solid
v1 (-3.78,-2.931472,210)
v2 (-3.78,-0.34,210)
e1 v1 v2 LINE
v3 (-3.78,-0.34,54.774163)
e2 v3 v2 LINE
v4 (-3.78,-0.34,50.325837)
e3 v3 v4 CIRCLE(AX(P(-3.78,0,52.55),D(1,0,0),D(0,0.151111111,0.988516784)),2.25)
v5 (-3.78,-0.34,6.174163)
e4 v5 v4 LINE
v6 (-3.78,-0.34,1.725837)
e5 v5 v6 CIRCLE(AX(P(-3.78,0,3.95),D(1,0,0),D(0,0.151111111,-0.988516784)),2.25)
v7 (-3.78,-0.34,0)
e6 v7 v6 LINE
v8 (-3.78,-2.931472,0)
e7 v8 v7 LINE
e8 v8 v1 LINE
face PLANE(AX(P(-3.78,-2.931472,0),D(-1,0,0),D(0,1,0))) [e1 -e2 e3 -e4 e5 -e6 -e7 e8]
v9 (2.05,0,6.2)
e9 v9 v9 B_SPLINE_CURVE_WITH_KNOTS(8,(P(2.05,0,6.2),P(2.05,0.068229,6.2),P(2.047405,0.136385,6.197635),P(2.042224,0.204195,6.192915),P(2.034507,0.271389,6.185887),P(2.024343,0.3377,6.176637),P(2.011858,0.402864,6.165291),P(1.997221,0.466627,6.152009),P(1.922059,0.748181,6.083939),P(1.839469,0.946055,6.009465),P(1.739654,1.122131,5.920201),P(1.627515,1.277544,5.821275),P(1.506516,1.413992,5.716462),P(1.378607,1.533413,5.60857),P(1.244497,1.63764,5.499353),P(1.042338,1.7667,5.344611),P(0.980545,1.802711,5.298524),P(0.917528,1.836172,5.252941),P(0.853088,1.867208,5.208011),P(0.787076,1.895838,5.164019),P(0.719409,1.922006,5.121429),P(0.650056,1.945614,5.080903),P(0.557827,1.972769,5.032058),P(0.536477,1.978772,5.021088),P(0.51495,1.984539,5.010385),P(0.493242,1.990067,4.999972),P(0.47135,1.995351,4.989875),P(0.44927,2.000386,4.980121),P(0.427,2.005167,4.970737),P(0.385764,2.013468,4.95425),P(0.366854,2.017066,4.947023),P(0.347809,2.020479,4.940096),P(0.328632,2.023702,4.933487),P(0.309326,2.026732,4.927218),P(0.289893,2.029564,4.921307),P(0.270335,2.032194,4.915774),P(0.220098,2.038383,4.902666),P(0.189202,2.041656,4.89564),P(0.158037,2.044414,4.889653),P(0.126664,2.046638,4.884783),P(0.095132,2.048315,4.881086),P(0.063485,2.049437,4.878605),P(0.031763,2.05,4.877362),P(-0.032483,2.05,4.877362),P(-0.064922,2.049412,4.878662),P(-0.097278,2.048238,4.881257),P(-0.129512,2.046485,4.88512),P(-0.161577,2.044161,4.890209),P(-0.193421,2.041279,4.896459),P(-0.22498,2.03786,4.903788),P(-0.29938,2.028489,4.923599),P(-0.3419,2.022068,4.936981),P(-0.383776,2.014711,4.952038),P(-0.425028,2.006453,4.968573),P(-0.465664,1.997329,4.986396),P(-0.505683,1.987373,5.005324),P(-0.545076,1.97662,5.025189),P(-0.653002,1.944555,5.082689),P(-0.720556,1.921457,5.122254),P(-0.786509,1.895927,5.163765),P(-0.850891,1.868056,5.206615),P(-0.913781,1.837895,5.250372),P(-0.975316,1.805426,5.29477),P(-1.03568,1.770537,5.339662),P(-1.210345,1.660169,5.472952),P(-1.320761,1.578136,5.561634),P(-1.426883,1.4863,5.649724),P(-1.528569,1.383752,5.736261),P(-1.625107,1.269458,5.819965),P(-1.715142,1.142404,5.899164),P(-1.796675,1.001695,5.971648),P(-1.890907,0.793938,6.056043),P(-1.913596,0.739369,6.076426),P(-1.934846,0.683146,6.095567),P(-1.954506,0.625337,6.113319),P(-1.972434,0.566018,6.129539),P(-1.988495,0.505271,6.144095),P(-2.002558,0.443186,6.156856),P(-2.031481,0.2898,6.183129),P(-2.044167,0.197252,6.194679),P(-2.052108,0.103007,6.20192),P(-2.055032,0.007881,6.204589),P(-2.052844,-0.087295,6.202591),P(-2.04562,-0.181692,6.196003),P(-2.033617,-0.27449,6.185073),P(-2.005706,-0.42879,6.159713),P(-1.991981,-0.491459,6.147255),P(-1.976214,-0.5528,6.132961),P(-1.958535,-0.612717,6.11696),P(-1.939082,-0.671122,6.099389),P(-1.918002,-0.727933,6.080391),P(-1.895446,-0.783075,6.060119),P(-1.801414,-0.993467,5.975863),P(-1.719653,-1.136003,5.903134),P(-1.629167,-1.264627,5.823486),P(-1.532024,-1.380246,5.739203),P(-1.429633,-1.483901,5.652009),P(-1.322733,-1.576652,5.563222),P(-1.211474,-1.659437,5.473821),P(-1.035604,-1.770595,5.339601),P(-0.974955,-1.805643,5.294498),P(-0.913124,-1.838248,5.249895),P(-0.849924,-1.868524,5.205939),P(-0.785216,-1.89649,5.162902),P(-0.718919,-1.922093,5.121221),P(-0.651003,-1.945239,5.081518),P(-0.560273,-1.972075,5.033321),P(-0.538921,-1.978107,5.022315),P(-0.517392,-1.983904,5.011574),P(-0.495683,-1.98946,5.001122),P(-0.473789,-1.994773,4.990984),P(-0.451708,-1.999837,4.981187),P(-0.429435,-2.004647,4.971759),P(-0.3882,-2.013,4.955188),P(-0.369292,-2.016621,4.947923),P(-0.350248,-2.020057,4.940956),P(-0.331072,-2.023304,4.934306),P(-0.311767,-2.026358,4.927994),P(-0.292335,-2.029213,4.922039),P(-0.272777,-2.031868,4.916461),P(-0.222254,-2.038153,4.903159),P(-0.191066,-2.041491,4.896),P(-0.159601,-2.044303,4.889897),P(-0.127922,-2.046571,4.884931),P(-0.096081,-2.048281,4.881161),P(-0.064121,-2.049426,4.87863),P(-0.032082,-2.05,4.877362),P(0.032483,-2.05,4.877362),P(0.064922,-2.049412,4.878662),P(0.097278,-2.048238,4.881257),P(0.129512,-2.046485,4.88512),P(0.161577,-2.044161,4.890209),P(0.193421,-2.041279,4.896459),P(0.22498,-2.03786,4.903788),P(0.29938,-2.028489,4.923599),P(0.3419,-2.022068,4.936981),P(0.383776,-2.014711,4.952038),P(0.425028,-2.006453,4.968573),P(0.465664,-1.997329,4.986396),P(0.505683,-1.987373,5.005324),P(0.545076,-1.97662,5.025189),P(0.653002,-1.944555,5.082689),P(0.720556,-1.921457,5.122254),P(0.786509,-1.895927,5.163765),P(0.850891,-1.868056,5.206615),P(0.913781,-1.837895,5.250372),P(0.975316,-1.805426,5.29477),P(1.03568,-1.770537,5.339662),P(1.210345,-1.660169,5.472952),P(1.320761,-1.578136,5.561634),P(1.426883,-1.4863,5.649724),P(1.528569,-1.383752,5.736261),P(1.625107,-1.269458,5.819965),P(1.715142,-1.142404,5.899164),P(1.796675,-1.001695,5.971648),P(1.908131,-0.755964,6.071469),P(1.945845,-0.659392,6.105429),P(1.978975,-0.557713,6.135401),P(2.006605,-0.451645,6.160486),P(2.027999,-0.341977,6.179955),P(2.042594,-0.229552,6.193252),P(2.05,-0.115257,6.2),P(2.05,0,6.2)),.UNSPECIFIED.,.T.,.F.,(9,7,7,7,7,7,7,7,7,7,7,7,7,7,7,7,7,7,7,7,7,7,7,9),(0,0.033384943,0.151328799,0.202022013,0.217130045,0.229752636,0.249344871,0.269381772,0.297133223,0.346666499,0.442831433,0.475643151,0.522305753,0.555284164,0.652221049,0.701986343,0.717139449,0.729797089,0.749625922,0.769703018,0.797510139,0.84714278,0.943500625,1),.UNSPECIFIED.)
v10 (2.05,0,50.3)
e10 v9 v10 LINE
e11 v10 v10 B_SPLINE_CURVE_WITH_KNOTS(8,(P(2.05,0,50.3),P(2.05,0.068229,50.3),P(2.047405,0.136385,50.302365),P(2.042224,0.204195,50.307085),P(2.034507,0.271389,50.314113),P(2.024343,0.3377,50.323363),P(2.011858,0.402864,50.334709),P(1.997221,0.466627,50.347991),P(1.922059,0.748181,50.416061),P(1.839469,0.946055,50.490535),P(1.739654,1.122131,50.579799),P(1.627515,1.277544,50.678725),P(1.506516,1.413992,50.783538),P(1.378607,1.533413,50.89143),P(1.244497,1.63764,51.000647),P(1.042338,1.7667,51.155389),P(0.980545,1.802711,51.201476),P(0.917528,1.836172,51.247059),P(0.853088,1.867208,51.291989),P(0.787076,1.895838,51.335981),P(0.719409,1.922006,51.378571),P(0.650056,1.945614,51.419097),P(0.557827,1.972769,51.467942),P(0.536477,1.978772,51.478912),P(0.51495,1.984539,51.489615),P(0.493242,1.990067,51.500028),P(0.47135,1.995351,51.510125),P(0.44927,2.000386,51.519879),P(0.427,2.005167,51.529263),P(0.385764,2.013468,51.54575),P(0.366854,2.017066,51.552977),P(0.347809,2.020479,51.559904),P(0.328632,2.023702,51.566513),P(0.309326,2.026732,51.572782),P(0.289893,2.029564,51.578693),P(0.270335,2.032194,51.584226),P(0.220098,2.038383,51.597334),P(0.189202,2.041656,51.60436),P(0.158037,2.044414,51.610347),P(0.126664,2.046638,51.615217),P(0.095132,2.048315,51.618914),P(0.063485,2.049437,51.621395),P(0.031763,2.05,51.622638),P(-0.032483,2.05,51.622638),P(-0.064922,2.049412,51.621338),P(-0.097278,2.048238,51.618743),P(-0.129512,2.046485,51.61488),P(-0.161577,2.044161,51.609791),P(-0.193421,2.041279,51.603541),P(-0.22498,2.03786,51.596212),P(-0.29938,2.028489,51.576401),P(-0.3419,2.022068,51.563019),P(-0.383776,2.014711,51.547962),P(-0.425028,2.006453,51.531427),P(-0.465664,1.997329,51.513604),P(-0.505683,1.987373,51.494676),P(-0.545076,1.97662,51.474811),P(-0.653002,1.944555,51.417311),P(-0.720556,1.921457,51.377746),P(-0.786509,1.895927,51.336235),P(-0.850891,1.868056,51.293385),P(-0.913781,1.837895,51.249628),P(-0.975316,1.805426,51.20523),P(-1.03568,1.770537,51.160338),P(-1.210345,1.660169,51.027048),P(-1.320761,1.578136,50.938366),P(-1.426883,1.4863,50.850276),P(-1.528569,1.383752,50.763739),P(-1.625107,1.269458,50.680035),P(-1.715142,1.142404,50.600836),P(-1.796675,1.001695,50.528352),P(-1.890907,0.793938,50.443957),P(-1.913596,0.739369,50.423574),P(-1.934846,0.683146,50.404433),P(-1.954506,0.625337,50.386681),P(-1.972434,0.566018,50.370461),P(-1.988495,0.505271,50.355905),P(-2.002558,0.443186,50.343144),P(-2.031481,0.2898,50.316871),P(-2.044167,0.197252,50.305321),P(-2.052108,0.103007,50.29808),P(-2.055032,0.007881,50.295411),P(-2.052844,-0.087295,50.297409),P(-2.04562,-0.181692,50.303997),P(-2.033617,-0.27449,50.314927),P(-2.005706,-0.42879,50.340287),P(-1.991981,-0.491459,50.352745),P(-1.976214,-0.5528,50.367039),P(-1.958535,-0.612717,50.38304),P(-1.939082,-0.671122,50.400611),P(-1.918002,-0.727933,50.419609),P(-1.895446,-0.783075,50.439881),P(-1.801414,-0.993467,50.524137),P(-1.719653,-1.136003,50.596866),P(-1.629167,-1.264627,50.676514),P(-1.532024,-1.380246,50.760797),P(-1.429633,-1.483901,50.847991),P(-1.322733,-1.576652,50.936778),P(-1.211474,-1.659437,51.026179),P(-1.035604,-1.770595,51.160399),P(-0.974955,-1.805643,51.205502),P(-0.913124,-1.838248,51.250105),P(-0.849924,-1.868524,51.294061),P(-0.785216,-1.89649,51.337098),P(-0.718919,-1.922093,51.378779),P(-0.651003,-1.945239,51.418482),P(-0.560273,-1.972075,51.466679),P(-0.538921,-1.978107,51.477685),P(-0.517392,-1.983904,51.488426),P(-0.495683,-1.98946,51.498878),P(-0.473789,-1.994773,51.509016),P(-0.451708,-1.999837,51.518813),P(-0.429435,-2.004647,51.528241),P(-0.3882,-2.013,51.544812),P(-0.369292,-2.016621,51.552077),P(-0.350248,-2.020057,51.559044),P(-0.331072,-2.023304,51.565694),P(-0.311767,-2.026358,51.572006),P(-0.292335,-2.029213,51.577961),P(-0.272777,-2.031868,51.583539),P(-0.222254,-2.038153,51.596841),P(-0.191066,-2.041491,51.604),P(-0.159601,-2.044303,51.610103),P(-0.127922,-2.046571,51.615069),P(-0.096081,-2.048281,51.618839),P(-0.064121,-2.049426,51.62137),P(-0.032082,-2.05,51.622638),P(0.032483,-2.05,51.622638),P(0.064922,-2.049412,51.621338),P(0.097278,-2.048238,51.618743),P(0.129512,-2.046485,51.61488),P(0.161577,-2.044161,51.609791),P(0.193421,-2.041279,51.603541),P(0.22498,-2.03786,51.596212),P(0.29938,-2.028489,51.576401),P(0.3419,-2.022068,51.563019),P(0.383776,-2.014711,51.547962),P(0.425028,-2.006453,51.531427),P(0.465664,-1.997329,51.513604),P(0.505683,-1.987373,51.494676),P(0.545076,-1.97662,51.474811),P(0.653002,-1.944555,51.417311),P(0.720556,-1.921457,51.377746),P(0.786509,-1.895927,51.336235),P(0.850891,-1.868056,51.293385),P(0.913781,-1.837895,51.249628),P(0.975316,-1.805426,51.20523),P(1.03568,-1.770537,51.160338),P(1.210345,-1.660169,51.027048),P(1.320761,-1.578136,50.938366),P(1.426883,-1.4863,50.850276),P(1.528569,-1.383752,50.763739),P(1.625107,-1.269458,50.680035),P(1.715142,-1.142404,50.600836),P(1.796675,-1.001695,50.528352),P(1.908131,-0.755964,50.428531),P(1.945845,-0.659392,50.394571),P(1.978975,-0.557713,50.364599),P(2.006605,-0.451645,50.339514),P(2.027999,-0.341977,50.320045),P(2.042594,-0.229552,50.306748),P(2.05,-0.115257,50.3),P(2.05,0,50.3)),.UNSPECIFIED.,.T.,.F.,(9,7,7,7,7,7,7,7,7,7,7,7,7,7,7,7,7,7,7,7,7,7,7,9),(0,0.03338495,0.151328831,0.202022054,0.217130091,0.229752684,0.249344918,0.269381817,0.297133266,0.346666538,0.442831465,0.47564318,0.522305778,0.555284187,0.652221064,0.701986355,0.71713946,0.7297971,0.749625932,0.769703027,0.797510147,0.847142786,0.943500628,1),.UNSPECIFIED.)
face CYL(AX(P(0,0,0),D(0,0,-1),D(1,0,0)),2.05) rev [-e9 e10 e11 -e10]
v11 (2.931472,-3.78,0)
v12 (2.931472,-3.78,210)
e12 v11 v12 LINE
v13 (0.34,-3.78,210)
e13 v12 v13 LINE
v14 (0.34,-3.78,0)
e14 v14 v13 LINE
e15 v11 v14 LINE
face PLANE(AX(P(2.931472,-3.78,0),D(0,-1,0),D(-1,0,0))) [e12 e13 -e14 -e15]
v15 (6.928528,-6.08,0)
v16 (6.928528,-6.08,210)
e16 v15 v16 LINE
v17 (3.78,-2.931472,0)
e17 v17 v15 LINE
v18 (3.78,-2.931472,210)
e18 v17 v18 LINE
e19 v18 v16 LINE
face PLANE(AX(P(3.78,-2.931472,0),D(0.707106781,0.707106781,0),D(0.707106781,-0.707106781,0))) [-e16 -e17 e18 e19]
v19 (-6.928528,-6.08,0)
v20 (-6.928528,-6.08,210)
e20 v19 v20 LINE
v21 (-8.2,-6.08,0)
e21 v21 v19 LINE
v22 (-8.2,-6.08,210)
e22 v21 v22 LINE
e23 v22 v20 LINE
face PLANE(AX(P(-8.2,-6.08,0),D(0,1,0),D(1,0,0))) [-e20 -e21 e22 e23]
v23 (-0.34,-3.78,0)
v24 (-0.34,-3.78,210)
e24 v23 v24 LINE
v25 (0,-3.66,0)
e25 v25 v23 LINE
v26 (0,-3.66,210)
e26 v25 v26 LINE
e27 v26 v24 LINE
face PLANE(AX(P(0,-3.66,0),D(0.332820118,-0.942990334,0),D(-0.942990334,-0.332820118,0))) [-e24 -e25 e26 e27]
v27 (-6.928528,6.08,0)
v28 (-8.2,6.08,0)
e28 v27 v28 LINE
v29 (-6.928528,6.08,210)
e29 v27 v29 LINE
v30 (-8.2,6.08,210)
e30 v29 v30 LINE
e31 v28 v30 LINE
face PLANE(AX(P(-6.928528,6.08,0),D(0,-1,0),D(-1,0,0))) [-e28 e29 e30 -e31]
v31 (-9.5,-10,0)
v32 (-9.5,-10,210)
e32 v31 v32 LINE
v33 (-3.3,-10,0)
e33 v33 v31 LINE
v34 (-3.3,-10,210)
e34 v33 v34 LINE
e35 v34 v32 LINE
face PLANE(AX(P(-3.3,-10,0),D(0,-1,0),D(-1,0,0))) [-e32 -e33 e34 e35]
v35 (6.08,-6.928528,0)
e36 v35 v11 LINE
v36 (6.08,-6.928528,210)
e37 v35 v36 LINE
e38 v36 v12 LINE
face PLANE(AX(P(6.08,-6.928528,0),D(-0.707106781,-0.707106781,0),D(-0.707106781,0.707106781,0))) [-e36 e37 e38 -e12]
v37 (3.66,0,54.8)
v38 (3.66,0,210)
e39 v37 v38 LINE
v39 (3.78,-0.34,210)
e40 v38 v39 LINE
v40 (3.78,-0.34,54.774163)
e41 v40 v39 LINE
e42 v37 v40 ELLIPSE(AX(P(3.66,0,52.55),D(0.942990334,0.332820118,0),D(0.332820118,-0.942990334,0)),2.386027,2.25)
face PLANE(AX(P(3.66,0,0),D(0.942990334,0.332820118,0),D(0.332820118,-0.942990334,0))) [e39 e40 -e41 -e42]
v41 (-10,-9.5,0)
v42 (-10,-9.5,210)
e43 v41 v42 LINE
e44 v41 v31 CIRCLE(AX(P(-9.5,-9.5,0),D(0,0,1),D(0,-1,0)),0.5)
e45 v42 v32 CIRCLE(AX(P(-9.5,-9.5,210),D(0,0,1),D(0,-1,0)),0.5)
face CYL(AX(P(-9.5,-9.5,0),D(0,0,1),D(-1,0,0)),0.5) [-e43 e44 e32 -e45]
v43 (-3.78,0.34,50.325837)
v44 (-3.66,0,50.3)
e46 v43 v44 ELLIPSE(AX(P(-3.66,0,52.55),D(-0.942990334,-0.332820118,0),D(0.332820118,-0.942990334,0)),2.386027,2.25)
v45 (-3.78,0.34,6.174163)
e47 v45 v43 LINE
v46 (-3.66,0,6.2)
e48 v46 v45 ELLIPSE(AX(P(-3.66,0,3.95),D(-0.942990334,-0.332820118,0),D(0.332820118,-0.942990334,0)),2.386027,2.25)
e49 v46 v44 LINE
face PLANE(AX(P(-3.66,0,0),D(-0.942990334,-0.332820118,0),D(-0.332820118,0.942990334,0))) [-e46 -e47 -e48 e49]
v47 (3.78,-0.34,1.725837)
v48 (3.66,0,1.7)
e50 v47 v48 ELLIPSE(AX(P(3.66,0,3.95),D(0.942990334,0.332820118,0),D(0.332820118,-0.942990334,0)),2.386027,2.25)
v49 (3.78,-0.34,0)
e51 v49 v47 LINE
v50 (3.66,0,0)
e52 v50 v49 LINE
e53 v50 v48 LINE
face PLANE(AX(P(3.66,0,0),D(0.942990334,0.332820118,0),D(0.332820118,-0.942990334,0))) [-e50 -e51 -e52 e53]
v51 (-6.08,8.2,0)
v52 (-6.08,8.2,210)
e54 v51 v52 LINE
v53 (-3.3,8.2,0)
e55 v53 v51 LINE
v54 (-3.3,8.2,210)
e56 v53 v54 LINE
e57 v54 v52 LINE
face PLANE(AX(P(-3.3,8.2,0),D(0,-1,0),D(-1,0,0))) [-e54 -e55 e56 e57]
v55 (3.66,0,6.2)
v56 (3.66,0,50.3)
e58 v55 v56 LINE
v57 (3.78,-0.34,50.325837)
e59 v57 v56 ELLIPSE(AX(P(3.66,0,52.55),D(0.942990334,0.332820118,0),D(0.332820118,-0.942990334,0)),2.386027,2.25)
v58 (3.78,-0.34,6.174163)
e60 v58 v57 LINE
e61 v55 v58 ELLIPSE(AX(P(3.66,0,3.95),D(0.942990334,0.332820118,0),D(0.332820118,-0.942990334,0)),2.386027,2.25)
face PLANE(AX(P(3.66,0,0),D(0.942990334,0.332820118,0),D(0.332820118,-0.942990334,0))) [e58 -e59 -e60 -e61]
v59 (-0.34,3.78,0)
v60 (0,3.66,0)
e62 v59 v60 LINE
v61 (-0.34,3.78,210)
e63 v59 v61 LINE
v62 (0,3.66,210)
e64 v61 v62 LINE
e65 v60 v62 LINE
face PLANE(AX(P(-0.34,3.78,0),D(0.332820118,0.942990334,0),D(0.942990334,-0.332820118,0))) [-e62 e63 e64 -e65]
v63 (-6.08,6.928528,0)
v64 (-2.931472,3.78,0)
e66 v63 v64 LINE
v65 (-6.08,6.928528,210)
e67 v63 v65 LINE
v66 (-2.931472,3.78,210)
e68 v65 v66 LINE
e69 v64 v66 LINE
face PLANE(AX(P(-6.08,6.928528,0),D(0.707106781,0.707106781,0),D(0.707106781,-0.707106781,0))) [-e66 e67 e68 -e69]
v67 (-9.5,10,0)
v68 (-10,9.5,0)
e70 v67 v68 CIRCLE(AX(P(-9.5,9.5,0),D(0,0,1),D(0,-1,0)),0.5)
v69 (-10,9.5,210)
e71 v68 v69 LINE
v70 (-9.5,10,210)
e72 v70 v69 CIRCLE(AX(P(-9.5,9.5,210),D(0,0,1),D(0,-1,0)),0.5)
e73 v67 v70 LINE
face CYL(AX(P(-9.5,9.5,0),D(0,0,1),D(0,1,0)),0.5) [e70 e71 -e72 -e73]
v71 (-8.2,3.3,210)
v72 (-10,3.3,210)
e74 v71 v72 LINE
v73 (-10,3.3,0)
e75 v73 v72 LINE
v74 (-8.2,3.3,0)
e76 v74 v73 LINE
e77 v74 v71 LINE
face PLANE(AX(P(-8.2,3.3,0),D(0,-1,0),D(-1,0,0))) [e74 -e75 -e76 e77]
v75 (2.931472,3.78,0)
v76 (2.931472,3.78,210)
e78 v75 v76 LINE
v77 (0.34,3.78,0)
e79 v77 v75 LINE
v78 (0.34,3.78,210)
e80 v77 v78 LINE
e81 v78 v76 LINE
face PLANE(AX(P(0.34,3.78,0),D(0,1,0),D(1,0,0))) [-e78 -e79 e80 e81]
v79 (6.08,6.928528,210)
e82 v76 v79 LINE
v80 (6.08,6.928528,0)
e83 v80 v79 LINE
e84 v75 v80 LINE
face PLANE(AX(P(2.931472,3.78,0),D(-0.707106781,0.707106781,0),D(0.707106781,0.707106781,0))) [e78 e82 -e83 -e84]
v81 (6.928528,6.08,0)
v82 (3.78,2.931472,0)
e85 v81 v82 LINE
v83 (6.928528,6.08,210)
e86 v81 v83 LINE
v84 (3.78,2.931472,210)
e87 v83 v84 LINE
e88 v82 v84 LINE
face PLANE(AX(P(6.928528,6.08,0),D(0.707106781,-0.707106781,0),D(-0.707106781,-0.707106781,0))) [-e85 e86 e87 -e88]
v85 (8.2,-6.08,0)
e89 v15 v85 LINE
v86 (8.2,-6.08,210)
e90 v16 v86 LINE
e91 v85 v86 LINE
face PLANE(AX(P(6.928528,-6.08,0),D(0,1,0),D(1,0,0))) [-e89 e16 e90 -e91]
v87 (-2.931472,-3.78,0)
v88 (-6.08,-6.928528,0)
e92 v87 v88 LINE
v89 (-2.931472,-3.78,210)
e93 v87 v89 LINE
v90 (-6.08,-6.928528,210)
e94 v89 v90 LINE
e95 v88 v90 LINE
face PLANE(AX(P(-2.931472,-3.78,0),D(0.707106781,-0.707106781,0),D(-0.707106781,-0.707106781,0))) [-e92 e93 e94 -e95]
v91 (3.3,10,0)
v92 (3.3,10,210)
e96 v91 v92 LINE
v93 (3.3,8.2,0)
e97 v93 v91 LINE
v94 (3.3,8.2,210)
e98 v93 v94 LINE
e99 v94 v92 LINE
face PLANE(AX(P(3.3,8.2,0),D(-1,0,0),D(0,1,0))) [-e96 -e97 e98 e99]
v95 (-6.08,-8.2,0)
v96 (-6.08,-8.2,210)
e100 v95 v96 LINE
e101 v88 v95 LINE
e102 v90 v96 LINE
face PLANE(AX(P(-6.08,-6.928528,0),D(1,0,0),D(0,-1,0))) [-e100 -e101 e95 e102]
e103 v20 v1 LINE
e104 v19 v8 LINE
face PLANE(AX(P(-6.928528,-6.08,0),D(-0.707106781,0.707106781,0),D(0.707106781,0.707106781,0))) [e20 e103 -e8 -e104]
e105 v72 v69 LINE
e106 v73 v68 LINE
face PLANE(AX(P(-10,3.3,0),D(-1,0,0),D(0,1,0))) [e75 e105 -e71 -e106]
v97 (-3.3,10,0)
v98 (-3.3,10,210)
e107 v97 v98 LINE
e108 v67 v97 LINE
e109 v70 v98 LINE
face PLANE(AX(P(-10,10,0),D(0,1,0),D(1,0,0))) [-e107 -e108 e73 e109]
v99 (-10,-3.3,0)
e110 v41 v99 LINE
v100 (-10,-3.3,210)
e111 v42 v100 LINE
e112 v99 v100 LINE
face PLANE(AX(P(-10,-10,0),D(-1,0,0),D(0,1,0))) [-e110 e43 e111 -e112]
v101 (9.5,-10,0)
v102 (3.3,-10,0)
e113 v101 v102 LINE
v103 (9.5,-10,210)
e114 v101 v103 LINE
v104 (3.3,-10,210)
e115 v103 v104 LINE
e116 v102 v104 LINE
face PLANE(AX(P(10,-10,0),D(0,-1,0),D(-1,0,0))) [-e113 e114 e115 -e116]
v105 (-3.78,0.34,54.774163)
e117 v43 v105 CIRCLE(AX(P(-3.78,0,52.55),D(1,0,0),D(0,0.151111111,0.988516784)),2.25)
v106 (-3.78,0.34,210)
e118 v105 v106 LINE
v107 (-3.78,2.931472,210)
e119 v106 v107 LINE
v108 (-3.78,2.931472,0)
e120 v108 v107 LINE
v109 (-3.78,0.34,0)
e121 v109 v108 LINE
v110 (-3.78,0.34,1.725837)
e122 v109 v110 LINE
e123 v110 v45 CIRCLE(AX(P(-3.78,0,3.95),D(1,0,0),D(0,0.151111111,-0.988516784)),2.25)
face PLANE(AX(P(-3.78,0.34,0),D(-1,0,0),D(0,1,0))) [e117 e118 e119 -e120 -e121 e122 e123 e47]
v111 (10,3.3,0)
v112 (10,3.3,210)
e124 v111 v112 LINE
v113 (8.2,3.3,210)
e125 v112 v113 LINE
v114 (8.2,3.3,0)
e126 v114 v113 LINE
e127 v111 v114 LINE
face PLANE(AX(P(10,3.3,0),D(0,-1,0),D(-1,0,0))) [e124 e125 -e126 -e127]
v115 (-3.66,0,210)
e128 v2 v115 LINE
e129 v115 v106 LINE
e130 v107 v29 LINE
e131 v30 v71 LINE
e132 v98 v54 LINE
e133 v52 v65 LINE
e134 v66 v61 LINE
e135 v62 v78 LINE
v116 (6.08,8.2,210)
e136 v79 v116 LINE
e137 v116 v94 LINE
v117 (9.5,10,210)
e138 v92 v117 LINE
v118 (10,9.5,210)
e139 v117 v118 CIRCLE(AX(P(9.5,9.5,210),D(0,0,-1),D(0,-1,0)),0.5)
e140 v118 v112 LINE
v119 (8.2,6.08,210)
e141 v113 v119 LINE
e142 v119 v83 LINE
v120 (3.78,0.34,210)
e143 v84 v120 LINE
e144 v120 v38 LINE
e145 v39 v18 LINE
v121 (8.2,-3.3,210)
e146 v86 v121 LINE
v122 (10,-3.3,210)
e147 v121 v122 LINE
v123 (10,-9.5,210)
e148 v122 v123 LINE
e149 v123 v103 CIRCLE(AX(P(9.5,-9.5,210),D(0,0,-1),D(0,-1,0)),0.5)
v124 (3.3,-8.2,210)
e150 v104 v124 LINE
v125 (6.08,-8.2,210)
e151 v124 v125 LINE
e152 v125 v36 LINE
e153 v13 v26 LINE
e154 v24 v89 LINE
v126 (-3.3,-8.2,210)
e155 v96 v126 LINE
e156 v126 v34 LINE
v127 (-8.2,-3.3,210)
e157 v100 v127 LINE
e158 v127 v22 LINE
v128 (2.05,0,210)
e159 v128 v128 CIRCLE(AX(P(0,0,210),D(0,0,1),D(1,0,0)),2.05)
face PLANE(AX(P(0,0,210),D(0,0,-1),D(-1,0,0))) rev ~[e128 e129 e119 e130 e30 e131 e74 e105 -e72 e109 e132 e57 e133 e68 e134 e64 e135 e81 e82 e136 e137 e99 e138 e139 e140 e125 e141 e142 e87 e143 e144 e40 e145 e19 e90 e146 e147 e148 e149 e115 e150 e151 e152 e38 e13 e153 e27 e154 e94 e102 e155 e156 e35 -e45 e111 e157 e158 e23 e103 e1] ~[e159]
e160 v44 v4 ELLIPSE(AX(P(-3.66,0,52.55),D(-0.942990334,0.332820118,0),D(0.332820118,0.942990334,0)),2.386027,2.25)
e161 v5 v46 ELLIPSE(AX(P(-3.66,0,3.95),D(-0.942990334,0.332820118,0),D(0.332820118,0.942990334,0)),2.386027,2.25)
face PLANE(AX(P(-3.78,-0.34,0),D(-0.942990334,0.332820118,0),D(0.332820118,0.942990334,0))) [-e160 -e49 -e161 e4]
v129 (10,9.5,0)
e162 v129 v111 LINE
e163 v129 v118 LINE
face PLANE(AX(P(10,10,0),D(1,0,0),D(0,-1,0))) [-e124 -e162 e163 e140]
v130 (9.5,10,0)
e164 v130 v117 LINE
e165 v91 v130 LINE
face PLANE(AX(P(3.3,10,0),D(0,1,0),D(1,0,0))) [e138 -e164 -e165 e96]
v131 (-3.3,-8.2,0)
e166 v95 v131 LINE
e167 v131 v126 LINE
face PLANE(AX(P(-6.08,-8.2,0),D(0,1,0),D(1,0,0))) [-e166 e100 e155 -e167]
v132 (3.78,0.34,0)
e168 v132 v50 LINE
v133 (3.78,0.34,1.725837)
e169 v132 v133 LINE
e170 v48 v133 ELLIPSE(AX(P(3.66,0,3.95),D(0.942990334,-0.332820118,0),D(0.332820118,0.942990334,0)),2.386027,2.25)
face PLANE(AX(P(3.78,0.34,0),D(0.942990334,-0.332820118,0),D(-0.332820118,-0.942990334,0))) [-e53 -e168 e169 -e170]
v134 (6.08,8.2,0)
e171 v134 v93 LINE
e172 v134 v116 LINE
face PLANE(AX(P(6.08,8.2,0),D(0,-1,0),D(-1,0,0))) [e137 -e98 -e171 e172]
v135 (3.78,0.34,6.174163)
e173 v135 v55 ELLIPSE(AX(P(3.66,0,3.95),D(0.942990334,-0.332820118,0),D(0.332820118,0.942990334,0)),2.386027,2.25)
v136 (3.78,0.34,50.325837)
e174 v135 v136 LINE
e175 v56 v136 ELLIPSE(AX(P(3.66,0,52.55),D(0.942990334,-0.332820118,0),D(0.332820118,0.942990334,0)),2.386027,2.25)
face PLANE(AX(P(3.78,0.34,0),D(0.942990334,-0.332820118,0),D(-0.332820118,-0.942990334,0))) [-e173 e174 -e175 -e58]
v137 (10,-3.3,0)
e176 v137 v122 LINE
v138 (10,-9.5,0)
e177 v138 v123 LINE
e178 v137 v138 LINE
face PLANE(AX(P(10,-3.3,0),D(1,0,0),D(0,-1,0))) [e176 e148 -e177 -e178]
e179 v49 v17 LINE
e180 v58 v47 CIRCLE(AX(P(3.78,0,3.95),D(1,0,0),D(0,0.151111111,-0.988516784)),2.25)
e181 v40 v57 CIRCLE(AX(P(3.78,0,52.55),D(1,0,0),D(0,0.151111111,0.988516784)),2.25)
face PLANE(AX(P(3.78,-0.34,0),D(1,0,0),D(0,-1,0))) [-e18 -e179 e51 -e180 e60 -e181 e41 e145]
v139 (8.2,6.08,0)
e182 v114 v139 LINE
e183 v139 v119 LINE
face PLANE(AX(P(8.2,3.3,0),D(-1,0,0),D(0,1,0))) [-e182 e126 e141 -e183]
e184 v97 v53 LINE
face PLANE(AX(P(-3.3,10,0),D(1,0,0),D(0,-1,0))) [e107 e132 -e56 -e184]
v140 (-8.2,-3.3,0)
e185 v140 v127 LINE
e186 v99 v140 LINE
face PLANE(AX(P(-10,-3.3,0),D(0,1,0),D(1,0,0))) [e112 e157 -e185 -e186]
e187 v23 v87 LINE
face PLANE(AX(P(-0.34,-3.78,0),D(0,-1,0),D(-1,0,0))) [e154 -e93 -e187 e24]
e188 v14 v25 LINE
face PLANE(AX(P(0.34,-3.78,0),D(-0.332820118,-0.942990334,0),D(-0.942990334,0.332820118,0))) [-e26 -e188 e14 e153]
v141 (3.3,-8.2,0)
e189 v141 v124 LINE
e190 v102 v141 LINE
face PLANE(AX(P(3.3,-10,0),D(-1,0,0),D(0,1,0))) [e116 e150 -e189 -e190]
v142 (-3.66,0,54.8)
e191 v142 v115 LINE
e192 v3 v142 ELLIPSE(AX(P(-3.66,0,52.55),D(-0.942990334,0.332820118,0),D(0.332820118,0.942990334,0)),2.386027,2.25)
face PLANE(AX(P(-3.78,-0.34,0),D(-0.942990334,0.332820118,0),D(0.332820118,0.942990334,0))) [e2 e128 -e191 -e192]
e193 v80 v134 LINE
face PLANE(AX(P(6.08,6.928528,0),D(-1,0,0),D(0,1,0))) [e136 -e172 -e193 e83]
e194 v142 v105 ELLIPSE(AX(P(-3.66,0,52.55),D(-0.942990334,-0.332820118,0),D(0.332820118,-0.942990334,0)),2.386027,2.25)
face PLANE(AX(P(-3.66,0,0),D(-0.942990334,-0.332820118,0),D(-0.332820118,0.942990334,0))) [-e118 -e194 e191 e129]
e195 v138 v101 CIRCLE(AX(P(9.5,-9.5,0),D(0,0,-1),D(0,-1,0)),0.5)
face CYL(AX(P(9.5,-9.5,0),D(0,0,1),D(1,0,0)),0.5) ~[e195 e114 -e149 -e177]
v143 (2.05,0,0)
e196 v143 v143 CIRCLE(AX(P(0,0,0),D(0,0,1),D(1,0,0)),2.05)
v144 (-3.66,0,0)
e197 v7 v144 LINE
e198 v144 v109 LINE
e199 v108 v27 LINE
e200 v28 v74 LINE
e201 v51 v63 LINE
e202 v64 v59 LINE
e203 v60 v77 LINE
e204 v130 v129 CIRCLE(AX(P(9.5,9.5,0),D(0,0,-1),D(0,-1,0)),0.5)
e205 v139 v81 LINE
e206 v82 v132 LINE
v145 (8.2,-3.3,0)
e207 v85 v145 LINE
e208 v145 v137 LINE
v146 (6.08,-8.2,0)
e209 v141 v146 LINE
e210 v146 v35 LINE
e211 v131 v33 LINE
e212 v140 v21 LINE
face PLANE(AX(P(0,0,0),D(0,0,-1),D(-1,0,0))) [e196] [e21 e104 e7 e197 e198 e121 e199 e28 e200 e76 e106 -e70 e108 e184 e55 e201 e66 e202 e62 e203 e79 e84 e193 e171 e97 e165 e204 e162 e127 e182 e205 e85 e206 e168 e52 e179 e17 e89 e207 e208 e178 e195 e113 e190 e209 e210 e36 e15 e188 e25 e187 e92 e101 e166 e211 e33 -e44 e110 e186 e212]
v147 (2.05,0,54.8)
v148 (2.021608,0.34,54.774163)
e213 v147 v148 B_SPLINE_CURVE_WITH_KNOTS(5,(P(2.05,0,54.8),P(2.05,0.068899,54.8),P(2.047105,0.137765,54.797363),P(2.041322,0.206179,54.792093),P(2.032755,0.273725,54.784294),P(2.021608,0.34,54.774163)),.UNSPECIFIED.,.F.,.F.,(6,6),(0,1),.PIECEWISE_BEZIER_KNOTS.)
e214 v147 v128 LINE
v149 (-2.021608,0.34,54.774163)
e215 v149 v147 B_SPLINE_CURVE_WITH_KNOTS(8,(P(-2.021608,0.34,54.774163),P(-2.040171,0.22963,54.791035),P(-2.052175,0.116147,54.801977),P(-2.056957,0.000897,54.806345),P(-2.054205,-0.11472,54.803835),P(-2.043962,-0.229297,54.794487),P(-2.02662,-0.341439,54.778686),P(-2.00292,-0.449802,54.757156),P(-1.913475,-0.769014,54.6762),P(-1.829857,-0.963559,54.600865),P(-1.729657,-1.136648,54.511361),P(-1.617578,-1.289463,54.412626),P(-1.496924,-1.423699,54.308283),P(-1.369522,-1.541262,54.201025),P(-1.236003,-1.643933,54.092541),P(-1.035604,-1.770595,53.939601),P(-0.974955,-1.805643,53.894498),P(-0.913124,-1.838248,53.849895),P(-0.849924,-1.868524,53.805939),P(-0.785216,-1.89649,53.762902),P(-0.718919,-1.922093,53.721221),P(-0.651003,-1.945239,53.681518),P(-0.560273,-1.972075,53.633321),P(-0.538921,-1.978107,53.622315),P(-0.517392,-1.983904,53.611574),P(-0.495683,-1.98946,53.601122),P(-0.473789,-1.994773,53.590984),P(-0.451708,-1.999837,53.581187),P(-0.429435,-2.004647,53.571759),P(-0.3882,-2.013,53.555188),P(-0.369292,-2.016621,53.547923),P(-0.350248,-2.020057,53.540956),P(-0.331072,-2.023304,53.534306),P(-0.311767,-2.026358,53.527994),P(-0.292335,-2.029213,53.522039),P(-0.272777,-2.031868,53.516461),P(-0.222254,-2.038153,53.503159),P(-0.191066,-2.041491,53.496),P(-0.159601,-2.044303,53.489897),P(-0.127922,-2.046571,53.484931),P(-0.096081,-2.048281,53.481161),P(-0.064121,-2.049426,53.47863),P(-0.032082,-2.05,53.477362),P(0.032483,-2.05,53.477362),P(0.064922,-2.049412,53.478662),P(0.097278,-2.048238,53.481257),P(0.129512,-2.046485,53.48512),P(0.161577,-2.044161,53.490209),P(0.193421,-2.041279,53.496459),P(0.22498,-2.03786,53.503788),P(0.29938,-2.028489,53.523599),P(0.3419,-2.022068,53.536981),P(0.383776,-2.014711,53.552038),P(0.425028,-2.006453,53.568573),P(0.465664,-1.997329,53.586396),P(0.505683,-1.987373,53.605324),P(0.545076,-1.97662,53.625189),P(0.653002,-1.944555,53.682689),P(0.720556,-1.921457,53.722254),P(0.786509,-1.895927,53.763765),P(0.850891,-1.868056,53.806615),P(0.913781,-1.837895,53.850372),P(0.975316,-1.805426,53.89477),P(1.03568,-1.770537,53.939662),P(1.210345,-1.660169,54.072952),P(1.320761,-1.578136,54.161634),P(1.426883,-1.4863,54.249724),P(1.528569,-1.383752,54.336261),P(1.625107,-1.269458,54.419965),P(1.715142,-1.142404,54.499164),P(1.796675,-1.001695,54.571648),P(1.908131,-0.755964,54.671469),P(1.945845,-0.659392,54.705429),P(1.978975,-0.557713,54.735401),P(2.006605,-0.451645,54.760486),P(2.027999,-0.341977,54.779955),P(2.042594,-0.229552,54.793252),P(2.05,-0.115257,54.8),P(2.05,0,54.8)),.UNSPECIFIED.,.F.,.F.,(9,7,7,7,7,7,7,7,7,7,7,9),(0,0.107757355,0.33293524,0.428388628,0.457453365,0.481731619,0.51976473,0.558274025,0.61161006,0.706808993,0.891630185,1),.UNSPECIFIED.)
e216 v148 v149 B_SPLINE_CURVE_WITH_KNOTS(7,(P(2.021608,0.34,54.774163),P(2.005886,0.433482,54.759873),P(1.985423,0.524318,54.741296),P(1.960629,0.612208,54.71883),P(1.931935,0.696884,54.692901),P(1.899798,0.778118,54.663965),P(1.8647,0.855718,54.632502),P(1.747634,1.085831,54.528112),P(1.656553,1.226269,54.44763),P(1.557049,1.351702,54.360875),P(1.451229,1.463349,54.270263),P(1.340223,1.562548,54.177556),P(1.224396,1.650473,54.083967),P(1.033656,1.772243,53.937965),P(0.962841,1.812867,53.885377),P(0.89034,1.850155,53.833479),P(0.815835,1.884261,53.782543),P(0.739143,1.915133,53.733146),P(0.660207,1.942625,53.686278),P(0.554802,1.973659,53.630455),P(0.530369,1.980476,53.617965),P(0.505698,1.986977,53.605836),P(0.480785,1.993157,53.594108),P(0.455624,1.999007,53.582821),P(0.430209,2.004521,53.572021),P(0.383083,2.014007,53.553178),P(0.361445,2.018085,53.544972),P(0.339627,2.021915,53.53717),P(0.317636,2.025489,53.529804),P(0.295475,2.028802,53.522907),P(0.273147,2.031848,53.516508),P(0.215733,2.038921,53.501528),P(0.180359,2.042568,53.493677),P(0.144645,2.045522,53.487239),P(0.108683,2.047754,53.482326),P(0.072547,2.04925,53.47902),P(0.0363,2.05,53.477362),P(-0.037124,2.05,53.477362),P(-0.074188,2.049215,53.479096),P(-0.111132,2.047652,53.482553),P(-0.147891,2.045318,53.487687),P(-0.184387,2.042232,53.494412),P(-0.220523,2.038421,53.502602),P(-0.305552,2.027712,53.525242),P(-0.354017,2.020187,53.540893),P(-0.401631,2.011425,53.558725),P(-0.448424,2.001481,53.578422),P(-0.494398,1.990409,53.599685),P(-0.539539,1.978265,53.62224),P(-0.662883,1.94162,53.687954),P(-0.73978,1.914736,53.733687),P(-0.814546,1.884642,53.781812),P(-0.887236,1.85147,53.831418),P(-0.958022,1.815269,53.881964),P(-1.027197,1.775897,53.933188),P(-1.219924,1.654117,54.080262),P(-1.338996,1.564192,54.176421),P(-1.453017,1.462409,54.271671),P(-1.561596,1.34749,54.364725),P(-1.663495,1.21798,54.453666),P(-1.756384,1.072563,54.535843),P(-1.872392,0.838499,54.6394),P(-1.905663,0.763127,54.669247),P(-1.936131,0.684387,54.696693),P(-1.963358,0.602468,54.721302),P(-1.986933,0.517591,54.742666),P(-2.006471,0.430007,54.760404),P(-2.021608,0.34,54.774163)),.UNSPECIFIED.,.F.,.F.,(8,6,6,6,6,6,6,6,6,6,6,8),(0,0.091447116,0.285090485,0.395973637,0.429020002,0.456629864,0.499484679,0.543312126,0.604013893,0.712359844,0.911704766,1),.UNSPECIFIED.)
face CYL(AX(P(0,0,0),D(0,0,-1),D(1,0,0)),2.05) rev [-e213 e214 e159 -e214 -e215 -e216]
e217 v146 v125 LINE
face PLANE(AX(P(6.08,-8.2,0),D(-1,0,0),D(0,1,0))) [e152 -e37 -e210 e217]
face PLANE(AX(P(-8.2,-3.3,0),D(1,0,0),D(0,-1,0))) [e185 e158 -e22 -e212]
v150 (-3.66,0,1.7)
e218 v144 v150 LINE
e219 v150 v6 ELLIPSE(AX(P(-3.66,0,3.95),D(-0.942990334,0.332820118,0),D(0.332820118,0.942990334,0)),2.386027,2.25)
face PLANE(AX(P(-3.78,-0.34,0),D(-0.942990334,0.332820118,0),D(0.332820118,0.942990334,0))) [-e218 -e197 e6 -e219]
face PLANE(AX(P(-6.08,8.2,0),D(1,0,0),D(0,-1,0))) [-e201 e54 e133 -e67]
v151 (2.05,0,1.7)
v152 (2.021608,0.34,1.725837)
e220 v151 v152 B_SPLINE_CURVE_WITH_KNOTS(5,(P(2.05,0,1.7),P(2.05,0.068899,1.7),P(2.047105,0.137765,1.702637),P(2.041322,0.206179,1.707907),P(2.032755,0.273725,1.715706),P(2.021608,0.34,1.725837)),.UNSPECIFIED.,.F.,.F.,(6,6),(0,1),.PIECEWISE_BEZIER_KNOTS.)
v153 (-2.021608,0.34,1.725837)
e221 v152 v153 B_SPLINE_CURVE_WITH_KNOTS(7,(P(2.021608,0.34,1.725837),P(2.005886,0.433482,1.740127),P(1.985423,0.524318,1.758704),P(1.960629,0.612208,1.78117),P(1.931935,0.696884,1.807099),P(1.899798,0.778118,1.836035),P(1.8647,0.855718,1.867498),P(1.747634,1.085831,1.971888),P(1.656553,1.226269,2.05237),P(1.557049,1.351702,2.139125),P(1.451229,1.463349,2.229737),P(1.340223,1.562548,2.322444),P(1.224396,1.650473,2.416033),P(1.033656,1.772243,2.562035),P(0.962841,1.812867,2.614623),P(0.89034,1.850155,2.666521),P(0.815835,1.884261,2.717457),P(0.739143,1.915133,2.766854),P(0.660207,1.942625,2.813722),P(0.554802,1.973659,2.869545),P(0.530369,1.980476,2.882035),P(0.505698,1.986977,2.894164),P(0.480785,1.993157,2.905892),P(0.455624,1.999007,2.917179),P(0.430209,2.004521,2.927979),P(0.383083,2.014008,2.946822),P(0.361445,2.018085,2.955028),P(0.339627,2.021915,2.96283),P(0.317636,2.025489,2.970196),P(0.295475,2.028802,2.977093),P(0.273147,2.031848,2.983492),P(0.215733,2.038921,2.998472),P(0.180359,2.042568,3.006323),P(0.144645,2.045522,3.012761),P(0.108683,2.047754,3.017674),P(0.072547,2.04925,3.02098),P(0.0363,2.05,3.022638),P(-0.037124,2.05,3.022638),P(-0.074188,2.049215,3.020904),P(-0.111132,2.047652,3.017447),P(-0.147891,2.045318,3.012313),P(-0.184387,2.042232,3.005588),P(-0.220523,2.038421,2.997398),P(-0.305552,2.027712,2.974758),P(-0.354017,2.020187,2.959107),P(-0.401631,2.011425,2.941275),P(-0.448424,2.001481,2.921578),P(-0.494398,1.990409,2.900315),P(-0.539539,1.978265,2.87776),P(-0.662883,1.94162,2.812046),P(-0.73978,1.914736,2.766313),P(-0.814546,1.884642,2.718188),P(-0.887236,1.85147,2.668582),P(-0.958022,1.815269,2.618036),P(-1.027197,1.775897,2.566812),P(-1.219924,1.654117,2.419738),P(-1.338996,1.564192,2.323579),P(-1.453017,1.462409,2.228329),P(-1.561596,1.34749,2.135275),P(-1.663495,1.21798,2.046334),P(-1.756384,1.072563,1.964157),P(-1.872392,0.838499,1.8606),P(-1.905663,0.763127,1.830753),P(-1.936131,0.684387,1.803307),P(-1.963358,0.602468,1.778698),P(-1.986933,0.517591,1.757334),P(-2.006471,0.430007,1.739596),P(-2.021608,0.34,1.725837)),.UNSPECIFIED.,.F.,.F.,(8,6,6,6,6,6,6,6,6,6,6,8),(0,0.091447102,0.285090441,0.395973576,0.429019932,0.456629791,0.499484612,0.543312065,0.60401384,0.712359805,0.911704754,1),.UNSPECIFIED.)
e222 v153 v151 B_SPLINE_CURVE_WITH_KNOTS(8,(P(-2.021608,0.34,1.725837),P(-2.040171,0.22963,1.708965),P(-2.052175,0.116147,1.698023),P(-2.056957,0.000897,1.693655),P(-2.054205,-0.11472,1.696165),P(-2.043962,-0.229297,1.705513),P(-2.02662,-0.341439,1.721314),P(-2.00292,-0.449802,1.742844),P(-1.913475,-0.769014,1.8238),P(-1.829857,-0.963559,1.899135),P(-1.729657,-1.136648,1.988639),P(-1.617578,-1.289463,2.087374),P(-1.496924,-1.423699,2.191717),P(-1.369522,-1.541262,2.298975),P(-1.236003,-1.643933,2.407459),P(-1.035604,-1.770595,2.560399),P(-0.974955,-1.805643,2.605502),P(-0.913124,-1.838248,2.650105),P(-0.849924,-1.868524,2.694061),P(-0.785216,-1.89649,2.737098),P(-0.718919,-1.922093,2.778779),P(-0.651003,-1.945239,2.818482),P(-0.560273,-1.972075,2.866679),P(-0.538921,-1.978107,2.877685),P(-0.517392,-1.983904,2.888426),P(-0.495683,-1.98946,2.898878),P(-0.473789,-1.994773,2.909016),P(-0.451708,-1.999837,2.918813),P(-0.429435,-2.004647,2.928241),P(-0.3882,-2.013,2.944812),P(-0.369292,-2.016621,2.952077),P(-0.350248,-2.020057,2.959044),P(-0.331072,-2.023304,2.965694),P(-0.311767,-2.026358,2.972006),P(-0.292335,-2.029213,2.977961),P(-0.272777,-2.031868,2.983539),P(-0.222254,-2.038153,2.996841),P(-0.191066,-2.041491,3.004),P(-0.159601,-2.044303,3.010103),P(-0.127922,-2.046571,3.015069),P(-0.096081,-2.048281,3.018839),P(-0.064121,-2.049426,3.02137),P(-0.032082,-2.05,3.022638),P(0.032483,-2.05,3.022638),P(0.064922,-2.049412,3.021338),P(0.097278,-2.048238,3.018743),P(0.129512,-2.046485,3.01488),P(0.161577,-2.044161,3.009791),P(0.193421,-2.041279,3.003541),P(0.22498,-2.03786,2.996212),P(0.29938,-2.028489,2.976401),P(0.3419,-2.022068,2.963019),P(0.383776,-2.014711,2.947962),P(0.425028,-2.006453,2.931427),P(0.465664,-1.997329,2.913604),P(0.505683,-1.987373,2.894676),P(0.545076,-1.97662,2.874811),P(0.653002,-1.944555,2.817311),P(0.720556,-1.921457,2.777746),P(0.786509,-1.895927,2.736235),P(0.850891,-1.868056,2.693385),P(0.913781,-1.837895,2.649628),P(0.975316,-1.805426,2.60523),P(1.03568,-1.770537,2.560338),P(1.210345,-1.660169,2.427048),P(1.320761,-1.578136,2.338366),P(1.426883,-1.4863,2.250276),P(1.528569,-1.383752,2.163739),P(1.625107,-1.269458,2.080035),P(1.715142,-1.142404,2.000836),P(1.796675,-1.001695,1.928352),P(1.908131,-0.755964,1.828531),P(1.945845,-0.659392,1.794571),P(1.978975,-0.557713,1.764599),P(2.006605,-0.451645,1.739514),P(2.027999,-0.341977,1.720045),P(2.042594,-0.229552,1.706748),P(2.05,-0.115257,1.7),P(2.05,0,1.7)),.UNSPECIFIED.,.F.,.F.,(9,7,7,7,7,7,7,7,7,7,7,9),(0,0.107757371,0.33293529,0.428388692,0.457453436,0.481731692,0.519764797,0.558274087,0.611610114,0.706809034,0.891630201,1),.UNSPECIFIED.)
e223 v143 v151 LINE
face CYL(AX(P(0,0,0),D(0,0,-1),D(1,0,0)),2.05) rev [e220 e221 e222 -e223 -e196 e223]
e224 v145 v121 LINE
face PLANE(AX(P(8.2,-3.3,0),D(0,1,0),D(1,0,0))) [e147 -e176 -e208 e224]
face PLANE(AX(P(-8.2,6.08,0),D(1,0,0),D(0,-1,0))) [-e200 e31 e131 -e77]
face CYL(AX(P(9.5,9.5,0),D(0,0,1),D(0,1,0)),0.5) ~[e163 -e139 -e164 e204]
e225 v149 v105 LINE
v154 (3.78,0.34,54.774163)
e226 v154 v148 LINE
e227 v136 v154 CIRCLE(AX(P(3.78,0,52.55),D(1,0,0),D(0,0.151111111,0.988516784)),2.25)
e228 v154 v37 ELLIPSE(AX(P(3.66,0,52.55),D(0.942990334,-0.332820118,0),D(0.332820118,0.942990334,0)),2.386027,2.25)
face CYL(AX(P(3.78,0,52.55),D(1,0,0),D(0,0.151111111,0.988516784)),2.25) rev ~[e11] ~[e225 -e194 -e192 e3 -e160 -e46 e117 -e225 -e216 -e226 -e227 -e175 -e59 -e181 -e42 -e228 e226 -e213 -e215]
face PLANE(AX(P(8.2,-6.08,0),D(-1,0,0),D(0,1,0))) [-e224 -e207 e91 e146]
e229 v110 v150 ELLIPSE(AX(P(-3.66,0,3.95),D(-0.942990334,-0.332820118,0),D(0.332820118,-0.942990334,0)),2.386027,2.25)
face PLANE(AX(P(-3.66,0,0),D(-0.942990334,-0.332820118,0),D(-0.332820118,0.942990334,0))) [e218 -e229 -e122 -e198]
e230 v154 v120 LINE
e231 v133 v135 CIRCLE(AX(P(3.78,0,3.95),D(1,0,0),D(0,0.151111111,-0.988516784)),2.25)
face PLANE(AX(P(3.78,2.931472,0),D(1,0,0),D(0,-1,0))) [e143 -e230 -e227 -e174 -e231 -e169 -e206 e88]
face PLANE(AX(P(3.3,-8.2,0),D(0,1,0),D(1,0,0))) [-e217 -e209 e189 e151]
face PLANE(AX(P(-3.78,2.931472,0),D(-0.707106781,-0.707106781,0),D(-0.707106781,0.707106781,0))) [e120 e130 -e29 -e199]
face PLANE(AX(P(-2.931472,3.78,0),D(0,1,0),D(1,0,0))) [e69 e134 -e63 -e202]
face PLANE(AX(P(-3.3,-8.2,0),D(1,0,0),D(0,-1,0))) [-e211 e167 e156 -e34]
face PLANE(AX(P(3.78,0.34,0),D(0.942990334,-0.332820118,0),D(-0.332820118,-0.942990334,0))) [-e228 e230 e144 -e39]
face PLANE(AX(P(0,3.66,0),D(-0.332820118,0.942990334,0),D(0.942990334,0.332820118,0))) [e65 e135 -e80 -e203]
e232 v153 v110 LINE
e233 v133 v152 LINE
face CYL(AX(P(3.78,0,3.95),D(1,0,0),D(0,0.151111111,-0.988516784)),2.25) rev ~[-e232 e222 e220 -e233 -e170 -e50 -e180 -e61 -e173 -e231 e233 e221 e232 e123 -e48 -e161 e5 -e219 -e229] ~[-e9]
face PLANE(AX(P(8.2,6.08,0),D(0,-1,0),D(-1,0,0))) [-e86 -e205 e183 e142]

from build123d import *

# Parameters (mm, degrees)
SKETCH1_R           = 2.05
BOSS_EXTRUDE1_DEPTH = 210
FILLET1_R           = 0.5
CUT_EXTRUDE1_REACH  = 212.689
SKETCH2_R           = 2.25


with BuildPart() as part:
    # Sketch1 → Boss-Extrude1 (new body)
    with BuildSketch(Plane.XY):
        Polygon((-3.3, 10), (-3.3, 8.2), (-6.08, 8.2), (-6.08, 6.928528137), (-2.931471863, 3.78), (-0.34, 3.78), (0, 3.66), (0.34, 3.78), (2.931471863, 3.78), (6.08, 6.928528137), (6.08, 8.2), (3.3, 8.2), (3.3, 10), (10, 10), (10, 3.3), (8.2, 3.3), (8.2, 6.08), (6.928528137, 6.08), (3.78, 2.931471863), (3.78, 0.34), (3.66, 0), (3.78, -0.34), (3.78, -2.931471863), (6.928528137, -6.08), (8.2, -6.08), (8.2, -3.3), (10, -3.3), (10, -10), (3.3, -10), (3.3, -8.2), (6.08, -8.2), (6.08, -6.928528137), (2.931471863, -3.78), (0.34, -3.78), (0, -3.66), (-0.34, -3.78), (-2.931471863, -3.78), (-6.08, -6.928528137), (-6.08, -8.2), (-3.3, -8.2), (-3.3, -10), (-10, -10), (-10, -3.3), (-8.2, -3.3), (-8.2, -6.08), (-6.928528137, -6.08), (-3.78, -2.931471863), (-3.78, -0.34), (-3.66, 0), (-3.78, 0.34), (-3.78, 2.931471863), (-6.928528137, 6.08), (-8.2, 6.08), (-8.2, 3.3), (-10, 3.3), (-10, 10), align=None)
        Circle(SKETCH1_R, mode=Mode.SUBTRACT)
    extrude(amount=BOSS_EXTRUDE1_DEPTH)

    # Fillet1
    fillet1_edges = [part.edges().sort_by_distance(p)[0] for p in [
        (10, 10, 105),
        (10, -10, 105),
        (-10, -10, 105),
        (-10, 10, 105),
    ]]
    fillet(fillet1_edges, radius=FILLET1_R)

    # Sketch2 → Cut-Extrude1 (cut, up to next)
    with BuildSketch(Plane(origin=(3.78, 0, 0), x_dir=(0, 0, -1), z_dir=(1, 0, 0)), mode=Mode.PRIVATE) as cut_extrude1_sk1:
        with Locations(Location((-3.95, 0, 0), (0, 0, 8.691322554))):
            Circle(SKETCH2_R)
    cut_extrude1_tool1 = extrude(cut_extrude1_sk1.sketch, amount=-CUT_EXTRUDE1_REACH, mode=Mode.PRIVATE) & part.part
    # Sketch2 → Cut-Extrude1 (cut, up to next)
    with BuildSketch(Plane(origin=(3.78, 0, 0), x_dir=(0, 0, -1), z_dir=(1, 0, 0)), mode=Mode.PRIVATE) as cut_extrude1_sk2:
        with Locations(Location((-52.55, 0, 0), (0, 0, 171.308677446))):
            Circle(SKETCH2_R)
    cut_extrude1_tool2 = extrude(cut_extrude1_sk2.sketch, amount=-CUT_EXTRUDE1_REACH, mode=Mode.PRIVATE) & part.part
    add(cut_extrude1_tool1.solids().sort_by_distance((3.78, 0, 3.95))[0], mode=Mode.SUBTRACT)
    add(cut_extrude1_tool2.solids().sort_by_distance((3.78, 0, 52.55))[0], mode=Mode.SUBTRACT)


solid = part.part
